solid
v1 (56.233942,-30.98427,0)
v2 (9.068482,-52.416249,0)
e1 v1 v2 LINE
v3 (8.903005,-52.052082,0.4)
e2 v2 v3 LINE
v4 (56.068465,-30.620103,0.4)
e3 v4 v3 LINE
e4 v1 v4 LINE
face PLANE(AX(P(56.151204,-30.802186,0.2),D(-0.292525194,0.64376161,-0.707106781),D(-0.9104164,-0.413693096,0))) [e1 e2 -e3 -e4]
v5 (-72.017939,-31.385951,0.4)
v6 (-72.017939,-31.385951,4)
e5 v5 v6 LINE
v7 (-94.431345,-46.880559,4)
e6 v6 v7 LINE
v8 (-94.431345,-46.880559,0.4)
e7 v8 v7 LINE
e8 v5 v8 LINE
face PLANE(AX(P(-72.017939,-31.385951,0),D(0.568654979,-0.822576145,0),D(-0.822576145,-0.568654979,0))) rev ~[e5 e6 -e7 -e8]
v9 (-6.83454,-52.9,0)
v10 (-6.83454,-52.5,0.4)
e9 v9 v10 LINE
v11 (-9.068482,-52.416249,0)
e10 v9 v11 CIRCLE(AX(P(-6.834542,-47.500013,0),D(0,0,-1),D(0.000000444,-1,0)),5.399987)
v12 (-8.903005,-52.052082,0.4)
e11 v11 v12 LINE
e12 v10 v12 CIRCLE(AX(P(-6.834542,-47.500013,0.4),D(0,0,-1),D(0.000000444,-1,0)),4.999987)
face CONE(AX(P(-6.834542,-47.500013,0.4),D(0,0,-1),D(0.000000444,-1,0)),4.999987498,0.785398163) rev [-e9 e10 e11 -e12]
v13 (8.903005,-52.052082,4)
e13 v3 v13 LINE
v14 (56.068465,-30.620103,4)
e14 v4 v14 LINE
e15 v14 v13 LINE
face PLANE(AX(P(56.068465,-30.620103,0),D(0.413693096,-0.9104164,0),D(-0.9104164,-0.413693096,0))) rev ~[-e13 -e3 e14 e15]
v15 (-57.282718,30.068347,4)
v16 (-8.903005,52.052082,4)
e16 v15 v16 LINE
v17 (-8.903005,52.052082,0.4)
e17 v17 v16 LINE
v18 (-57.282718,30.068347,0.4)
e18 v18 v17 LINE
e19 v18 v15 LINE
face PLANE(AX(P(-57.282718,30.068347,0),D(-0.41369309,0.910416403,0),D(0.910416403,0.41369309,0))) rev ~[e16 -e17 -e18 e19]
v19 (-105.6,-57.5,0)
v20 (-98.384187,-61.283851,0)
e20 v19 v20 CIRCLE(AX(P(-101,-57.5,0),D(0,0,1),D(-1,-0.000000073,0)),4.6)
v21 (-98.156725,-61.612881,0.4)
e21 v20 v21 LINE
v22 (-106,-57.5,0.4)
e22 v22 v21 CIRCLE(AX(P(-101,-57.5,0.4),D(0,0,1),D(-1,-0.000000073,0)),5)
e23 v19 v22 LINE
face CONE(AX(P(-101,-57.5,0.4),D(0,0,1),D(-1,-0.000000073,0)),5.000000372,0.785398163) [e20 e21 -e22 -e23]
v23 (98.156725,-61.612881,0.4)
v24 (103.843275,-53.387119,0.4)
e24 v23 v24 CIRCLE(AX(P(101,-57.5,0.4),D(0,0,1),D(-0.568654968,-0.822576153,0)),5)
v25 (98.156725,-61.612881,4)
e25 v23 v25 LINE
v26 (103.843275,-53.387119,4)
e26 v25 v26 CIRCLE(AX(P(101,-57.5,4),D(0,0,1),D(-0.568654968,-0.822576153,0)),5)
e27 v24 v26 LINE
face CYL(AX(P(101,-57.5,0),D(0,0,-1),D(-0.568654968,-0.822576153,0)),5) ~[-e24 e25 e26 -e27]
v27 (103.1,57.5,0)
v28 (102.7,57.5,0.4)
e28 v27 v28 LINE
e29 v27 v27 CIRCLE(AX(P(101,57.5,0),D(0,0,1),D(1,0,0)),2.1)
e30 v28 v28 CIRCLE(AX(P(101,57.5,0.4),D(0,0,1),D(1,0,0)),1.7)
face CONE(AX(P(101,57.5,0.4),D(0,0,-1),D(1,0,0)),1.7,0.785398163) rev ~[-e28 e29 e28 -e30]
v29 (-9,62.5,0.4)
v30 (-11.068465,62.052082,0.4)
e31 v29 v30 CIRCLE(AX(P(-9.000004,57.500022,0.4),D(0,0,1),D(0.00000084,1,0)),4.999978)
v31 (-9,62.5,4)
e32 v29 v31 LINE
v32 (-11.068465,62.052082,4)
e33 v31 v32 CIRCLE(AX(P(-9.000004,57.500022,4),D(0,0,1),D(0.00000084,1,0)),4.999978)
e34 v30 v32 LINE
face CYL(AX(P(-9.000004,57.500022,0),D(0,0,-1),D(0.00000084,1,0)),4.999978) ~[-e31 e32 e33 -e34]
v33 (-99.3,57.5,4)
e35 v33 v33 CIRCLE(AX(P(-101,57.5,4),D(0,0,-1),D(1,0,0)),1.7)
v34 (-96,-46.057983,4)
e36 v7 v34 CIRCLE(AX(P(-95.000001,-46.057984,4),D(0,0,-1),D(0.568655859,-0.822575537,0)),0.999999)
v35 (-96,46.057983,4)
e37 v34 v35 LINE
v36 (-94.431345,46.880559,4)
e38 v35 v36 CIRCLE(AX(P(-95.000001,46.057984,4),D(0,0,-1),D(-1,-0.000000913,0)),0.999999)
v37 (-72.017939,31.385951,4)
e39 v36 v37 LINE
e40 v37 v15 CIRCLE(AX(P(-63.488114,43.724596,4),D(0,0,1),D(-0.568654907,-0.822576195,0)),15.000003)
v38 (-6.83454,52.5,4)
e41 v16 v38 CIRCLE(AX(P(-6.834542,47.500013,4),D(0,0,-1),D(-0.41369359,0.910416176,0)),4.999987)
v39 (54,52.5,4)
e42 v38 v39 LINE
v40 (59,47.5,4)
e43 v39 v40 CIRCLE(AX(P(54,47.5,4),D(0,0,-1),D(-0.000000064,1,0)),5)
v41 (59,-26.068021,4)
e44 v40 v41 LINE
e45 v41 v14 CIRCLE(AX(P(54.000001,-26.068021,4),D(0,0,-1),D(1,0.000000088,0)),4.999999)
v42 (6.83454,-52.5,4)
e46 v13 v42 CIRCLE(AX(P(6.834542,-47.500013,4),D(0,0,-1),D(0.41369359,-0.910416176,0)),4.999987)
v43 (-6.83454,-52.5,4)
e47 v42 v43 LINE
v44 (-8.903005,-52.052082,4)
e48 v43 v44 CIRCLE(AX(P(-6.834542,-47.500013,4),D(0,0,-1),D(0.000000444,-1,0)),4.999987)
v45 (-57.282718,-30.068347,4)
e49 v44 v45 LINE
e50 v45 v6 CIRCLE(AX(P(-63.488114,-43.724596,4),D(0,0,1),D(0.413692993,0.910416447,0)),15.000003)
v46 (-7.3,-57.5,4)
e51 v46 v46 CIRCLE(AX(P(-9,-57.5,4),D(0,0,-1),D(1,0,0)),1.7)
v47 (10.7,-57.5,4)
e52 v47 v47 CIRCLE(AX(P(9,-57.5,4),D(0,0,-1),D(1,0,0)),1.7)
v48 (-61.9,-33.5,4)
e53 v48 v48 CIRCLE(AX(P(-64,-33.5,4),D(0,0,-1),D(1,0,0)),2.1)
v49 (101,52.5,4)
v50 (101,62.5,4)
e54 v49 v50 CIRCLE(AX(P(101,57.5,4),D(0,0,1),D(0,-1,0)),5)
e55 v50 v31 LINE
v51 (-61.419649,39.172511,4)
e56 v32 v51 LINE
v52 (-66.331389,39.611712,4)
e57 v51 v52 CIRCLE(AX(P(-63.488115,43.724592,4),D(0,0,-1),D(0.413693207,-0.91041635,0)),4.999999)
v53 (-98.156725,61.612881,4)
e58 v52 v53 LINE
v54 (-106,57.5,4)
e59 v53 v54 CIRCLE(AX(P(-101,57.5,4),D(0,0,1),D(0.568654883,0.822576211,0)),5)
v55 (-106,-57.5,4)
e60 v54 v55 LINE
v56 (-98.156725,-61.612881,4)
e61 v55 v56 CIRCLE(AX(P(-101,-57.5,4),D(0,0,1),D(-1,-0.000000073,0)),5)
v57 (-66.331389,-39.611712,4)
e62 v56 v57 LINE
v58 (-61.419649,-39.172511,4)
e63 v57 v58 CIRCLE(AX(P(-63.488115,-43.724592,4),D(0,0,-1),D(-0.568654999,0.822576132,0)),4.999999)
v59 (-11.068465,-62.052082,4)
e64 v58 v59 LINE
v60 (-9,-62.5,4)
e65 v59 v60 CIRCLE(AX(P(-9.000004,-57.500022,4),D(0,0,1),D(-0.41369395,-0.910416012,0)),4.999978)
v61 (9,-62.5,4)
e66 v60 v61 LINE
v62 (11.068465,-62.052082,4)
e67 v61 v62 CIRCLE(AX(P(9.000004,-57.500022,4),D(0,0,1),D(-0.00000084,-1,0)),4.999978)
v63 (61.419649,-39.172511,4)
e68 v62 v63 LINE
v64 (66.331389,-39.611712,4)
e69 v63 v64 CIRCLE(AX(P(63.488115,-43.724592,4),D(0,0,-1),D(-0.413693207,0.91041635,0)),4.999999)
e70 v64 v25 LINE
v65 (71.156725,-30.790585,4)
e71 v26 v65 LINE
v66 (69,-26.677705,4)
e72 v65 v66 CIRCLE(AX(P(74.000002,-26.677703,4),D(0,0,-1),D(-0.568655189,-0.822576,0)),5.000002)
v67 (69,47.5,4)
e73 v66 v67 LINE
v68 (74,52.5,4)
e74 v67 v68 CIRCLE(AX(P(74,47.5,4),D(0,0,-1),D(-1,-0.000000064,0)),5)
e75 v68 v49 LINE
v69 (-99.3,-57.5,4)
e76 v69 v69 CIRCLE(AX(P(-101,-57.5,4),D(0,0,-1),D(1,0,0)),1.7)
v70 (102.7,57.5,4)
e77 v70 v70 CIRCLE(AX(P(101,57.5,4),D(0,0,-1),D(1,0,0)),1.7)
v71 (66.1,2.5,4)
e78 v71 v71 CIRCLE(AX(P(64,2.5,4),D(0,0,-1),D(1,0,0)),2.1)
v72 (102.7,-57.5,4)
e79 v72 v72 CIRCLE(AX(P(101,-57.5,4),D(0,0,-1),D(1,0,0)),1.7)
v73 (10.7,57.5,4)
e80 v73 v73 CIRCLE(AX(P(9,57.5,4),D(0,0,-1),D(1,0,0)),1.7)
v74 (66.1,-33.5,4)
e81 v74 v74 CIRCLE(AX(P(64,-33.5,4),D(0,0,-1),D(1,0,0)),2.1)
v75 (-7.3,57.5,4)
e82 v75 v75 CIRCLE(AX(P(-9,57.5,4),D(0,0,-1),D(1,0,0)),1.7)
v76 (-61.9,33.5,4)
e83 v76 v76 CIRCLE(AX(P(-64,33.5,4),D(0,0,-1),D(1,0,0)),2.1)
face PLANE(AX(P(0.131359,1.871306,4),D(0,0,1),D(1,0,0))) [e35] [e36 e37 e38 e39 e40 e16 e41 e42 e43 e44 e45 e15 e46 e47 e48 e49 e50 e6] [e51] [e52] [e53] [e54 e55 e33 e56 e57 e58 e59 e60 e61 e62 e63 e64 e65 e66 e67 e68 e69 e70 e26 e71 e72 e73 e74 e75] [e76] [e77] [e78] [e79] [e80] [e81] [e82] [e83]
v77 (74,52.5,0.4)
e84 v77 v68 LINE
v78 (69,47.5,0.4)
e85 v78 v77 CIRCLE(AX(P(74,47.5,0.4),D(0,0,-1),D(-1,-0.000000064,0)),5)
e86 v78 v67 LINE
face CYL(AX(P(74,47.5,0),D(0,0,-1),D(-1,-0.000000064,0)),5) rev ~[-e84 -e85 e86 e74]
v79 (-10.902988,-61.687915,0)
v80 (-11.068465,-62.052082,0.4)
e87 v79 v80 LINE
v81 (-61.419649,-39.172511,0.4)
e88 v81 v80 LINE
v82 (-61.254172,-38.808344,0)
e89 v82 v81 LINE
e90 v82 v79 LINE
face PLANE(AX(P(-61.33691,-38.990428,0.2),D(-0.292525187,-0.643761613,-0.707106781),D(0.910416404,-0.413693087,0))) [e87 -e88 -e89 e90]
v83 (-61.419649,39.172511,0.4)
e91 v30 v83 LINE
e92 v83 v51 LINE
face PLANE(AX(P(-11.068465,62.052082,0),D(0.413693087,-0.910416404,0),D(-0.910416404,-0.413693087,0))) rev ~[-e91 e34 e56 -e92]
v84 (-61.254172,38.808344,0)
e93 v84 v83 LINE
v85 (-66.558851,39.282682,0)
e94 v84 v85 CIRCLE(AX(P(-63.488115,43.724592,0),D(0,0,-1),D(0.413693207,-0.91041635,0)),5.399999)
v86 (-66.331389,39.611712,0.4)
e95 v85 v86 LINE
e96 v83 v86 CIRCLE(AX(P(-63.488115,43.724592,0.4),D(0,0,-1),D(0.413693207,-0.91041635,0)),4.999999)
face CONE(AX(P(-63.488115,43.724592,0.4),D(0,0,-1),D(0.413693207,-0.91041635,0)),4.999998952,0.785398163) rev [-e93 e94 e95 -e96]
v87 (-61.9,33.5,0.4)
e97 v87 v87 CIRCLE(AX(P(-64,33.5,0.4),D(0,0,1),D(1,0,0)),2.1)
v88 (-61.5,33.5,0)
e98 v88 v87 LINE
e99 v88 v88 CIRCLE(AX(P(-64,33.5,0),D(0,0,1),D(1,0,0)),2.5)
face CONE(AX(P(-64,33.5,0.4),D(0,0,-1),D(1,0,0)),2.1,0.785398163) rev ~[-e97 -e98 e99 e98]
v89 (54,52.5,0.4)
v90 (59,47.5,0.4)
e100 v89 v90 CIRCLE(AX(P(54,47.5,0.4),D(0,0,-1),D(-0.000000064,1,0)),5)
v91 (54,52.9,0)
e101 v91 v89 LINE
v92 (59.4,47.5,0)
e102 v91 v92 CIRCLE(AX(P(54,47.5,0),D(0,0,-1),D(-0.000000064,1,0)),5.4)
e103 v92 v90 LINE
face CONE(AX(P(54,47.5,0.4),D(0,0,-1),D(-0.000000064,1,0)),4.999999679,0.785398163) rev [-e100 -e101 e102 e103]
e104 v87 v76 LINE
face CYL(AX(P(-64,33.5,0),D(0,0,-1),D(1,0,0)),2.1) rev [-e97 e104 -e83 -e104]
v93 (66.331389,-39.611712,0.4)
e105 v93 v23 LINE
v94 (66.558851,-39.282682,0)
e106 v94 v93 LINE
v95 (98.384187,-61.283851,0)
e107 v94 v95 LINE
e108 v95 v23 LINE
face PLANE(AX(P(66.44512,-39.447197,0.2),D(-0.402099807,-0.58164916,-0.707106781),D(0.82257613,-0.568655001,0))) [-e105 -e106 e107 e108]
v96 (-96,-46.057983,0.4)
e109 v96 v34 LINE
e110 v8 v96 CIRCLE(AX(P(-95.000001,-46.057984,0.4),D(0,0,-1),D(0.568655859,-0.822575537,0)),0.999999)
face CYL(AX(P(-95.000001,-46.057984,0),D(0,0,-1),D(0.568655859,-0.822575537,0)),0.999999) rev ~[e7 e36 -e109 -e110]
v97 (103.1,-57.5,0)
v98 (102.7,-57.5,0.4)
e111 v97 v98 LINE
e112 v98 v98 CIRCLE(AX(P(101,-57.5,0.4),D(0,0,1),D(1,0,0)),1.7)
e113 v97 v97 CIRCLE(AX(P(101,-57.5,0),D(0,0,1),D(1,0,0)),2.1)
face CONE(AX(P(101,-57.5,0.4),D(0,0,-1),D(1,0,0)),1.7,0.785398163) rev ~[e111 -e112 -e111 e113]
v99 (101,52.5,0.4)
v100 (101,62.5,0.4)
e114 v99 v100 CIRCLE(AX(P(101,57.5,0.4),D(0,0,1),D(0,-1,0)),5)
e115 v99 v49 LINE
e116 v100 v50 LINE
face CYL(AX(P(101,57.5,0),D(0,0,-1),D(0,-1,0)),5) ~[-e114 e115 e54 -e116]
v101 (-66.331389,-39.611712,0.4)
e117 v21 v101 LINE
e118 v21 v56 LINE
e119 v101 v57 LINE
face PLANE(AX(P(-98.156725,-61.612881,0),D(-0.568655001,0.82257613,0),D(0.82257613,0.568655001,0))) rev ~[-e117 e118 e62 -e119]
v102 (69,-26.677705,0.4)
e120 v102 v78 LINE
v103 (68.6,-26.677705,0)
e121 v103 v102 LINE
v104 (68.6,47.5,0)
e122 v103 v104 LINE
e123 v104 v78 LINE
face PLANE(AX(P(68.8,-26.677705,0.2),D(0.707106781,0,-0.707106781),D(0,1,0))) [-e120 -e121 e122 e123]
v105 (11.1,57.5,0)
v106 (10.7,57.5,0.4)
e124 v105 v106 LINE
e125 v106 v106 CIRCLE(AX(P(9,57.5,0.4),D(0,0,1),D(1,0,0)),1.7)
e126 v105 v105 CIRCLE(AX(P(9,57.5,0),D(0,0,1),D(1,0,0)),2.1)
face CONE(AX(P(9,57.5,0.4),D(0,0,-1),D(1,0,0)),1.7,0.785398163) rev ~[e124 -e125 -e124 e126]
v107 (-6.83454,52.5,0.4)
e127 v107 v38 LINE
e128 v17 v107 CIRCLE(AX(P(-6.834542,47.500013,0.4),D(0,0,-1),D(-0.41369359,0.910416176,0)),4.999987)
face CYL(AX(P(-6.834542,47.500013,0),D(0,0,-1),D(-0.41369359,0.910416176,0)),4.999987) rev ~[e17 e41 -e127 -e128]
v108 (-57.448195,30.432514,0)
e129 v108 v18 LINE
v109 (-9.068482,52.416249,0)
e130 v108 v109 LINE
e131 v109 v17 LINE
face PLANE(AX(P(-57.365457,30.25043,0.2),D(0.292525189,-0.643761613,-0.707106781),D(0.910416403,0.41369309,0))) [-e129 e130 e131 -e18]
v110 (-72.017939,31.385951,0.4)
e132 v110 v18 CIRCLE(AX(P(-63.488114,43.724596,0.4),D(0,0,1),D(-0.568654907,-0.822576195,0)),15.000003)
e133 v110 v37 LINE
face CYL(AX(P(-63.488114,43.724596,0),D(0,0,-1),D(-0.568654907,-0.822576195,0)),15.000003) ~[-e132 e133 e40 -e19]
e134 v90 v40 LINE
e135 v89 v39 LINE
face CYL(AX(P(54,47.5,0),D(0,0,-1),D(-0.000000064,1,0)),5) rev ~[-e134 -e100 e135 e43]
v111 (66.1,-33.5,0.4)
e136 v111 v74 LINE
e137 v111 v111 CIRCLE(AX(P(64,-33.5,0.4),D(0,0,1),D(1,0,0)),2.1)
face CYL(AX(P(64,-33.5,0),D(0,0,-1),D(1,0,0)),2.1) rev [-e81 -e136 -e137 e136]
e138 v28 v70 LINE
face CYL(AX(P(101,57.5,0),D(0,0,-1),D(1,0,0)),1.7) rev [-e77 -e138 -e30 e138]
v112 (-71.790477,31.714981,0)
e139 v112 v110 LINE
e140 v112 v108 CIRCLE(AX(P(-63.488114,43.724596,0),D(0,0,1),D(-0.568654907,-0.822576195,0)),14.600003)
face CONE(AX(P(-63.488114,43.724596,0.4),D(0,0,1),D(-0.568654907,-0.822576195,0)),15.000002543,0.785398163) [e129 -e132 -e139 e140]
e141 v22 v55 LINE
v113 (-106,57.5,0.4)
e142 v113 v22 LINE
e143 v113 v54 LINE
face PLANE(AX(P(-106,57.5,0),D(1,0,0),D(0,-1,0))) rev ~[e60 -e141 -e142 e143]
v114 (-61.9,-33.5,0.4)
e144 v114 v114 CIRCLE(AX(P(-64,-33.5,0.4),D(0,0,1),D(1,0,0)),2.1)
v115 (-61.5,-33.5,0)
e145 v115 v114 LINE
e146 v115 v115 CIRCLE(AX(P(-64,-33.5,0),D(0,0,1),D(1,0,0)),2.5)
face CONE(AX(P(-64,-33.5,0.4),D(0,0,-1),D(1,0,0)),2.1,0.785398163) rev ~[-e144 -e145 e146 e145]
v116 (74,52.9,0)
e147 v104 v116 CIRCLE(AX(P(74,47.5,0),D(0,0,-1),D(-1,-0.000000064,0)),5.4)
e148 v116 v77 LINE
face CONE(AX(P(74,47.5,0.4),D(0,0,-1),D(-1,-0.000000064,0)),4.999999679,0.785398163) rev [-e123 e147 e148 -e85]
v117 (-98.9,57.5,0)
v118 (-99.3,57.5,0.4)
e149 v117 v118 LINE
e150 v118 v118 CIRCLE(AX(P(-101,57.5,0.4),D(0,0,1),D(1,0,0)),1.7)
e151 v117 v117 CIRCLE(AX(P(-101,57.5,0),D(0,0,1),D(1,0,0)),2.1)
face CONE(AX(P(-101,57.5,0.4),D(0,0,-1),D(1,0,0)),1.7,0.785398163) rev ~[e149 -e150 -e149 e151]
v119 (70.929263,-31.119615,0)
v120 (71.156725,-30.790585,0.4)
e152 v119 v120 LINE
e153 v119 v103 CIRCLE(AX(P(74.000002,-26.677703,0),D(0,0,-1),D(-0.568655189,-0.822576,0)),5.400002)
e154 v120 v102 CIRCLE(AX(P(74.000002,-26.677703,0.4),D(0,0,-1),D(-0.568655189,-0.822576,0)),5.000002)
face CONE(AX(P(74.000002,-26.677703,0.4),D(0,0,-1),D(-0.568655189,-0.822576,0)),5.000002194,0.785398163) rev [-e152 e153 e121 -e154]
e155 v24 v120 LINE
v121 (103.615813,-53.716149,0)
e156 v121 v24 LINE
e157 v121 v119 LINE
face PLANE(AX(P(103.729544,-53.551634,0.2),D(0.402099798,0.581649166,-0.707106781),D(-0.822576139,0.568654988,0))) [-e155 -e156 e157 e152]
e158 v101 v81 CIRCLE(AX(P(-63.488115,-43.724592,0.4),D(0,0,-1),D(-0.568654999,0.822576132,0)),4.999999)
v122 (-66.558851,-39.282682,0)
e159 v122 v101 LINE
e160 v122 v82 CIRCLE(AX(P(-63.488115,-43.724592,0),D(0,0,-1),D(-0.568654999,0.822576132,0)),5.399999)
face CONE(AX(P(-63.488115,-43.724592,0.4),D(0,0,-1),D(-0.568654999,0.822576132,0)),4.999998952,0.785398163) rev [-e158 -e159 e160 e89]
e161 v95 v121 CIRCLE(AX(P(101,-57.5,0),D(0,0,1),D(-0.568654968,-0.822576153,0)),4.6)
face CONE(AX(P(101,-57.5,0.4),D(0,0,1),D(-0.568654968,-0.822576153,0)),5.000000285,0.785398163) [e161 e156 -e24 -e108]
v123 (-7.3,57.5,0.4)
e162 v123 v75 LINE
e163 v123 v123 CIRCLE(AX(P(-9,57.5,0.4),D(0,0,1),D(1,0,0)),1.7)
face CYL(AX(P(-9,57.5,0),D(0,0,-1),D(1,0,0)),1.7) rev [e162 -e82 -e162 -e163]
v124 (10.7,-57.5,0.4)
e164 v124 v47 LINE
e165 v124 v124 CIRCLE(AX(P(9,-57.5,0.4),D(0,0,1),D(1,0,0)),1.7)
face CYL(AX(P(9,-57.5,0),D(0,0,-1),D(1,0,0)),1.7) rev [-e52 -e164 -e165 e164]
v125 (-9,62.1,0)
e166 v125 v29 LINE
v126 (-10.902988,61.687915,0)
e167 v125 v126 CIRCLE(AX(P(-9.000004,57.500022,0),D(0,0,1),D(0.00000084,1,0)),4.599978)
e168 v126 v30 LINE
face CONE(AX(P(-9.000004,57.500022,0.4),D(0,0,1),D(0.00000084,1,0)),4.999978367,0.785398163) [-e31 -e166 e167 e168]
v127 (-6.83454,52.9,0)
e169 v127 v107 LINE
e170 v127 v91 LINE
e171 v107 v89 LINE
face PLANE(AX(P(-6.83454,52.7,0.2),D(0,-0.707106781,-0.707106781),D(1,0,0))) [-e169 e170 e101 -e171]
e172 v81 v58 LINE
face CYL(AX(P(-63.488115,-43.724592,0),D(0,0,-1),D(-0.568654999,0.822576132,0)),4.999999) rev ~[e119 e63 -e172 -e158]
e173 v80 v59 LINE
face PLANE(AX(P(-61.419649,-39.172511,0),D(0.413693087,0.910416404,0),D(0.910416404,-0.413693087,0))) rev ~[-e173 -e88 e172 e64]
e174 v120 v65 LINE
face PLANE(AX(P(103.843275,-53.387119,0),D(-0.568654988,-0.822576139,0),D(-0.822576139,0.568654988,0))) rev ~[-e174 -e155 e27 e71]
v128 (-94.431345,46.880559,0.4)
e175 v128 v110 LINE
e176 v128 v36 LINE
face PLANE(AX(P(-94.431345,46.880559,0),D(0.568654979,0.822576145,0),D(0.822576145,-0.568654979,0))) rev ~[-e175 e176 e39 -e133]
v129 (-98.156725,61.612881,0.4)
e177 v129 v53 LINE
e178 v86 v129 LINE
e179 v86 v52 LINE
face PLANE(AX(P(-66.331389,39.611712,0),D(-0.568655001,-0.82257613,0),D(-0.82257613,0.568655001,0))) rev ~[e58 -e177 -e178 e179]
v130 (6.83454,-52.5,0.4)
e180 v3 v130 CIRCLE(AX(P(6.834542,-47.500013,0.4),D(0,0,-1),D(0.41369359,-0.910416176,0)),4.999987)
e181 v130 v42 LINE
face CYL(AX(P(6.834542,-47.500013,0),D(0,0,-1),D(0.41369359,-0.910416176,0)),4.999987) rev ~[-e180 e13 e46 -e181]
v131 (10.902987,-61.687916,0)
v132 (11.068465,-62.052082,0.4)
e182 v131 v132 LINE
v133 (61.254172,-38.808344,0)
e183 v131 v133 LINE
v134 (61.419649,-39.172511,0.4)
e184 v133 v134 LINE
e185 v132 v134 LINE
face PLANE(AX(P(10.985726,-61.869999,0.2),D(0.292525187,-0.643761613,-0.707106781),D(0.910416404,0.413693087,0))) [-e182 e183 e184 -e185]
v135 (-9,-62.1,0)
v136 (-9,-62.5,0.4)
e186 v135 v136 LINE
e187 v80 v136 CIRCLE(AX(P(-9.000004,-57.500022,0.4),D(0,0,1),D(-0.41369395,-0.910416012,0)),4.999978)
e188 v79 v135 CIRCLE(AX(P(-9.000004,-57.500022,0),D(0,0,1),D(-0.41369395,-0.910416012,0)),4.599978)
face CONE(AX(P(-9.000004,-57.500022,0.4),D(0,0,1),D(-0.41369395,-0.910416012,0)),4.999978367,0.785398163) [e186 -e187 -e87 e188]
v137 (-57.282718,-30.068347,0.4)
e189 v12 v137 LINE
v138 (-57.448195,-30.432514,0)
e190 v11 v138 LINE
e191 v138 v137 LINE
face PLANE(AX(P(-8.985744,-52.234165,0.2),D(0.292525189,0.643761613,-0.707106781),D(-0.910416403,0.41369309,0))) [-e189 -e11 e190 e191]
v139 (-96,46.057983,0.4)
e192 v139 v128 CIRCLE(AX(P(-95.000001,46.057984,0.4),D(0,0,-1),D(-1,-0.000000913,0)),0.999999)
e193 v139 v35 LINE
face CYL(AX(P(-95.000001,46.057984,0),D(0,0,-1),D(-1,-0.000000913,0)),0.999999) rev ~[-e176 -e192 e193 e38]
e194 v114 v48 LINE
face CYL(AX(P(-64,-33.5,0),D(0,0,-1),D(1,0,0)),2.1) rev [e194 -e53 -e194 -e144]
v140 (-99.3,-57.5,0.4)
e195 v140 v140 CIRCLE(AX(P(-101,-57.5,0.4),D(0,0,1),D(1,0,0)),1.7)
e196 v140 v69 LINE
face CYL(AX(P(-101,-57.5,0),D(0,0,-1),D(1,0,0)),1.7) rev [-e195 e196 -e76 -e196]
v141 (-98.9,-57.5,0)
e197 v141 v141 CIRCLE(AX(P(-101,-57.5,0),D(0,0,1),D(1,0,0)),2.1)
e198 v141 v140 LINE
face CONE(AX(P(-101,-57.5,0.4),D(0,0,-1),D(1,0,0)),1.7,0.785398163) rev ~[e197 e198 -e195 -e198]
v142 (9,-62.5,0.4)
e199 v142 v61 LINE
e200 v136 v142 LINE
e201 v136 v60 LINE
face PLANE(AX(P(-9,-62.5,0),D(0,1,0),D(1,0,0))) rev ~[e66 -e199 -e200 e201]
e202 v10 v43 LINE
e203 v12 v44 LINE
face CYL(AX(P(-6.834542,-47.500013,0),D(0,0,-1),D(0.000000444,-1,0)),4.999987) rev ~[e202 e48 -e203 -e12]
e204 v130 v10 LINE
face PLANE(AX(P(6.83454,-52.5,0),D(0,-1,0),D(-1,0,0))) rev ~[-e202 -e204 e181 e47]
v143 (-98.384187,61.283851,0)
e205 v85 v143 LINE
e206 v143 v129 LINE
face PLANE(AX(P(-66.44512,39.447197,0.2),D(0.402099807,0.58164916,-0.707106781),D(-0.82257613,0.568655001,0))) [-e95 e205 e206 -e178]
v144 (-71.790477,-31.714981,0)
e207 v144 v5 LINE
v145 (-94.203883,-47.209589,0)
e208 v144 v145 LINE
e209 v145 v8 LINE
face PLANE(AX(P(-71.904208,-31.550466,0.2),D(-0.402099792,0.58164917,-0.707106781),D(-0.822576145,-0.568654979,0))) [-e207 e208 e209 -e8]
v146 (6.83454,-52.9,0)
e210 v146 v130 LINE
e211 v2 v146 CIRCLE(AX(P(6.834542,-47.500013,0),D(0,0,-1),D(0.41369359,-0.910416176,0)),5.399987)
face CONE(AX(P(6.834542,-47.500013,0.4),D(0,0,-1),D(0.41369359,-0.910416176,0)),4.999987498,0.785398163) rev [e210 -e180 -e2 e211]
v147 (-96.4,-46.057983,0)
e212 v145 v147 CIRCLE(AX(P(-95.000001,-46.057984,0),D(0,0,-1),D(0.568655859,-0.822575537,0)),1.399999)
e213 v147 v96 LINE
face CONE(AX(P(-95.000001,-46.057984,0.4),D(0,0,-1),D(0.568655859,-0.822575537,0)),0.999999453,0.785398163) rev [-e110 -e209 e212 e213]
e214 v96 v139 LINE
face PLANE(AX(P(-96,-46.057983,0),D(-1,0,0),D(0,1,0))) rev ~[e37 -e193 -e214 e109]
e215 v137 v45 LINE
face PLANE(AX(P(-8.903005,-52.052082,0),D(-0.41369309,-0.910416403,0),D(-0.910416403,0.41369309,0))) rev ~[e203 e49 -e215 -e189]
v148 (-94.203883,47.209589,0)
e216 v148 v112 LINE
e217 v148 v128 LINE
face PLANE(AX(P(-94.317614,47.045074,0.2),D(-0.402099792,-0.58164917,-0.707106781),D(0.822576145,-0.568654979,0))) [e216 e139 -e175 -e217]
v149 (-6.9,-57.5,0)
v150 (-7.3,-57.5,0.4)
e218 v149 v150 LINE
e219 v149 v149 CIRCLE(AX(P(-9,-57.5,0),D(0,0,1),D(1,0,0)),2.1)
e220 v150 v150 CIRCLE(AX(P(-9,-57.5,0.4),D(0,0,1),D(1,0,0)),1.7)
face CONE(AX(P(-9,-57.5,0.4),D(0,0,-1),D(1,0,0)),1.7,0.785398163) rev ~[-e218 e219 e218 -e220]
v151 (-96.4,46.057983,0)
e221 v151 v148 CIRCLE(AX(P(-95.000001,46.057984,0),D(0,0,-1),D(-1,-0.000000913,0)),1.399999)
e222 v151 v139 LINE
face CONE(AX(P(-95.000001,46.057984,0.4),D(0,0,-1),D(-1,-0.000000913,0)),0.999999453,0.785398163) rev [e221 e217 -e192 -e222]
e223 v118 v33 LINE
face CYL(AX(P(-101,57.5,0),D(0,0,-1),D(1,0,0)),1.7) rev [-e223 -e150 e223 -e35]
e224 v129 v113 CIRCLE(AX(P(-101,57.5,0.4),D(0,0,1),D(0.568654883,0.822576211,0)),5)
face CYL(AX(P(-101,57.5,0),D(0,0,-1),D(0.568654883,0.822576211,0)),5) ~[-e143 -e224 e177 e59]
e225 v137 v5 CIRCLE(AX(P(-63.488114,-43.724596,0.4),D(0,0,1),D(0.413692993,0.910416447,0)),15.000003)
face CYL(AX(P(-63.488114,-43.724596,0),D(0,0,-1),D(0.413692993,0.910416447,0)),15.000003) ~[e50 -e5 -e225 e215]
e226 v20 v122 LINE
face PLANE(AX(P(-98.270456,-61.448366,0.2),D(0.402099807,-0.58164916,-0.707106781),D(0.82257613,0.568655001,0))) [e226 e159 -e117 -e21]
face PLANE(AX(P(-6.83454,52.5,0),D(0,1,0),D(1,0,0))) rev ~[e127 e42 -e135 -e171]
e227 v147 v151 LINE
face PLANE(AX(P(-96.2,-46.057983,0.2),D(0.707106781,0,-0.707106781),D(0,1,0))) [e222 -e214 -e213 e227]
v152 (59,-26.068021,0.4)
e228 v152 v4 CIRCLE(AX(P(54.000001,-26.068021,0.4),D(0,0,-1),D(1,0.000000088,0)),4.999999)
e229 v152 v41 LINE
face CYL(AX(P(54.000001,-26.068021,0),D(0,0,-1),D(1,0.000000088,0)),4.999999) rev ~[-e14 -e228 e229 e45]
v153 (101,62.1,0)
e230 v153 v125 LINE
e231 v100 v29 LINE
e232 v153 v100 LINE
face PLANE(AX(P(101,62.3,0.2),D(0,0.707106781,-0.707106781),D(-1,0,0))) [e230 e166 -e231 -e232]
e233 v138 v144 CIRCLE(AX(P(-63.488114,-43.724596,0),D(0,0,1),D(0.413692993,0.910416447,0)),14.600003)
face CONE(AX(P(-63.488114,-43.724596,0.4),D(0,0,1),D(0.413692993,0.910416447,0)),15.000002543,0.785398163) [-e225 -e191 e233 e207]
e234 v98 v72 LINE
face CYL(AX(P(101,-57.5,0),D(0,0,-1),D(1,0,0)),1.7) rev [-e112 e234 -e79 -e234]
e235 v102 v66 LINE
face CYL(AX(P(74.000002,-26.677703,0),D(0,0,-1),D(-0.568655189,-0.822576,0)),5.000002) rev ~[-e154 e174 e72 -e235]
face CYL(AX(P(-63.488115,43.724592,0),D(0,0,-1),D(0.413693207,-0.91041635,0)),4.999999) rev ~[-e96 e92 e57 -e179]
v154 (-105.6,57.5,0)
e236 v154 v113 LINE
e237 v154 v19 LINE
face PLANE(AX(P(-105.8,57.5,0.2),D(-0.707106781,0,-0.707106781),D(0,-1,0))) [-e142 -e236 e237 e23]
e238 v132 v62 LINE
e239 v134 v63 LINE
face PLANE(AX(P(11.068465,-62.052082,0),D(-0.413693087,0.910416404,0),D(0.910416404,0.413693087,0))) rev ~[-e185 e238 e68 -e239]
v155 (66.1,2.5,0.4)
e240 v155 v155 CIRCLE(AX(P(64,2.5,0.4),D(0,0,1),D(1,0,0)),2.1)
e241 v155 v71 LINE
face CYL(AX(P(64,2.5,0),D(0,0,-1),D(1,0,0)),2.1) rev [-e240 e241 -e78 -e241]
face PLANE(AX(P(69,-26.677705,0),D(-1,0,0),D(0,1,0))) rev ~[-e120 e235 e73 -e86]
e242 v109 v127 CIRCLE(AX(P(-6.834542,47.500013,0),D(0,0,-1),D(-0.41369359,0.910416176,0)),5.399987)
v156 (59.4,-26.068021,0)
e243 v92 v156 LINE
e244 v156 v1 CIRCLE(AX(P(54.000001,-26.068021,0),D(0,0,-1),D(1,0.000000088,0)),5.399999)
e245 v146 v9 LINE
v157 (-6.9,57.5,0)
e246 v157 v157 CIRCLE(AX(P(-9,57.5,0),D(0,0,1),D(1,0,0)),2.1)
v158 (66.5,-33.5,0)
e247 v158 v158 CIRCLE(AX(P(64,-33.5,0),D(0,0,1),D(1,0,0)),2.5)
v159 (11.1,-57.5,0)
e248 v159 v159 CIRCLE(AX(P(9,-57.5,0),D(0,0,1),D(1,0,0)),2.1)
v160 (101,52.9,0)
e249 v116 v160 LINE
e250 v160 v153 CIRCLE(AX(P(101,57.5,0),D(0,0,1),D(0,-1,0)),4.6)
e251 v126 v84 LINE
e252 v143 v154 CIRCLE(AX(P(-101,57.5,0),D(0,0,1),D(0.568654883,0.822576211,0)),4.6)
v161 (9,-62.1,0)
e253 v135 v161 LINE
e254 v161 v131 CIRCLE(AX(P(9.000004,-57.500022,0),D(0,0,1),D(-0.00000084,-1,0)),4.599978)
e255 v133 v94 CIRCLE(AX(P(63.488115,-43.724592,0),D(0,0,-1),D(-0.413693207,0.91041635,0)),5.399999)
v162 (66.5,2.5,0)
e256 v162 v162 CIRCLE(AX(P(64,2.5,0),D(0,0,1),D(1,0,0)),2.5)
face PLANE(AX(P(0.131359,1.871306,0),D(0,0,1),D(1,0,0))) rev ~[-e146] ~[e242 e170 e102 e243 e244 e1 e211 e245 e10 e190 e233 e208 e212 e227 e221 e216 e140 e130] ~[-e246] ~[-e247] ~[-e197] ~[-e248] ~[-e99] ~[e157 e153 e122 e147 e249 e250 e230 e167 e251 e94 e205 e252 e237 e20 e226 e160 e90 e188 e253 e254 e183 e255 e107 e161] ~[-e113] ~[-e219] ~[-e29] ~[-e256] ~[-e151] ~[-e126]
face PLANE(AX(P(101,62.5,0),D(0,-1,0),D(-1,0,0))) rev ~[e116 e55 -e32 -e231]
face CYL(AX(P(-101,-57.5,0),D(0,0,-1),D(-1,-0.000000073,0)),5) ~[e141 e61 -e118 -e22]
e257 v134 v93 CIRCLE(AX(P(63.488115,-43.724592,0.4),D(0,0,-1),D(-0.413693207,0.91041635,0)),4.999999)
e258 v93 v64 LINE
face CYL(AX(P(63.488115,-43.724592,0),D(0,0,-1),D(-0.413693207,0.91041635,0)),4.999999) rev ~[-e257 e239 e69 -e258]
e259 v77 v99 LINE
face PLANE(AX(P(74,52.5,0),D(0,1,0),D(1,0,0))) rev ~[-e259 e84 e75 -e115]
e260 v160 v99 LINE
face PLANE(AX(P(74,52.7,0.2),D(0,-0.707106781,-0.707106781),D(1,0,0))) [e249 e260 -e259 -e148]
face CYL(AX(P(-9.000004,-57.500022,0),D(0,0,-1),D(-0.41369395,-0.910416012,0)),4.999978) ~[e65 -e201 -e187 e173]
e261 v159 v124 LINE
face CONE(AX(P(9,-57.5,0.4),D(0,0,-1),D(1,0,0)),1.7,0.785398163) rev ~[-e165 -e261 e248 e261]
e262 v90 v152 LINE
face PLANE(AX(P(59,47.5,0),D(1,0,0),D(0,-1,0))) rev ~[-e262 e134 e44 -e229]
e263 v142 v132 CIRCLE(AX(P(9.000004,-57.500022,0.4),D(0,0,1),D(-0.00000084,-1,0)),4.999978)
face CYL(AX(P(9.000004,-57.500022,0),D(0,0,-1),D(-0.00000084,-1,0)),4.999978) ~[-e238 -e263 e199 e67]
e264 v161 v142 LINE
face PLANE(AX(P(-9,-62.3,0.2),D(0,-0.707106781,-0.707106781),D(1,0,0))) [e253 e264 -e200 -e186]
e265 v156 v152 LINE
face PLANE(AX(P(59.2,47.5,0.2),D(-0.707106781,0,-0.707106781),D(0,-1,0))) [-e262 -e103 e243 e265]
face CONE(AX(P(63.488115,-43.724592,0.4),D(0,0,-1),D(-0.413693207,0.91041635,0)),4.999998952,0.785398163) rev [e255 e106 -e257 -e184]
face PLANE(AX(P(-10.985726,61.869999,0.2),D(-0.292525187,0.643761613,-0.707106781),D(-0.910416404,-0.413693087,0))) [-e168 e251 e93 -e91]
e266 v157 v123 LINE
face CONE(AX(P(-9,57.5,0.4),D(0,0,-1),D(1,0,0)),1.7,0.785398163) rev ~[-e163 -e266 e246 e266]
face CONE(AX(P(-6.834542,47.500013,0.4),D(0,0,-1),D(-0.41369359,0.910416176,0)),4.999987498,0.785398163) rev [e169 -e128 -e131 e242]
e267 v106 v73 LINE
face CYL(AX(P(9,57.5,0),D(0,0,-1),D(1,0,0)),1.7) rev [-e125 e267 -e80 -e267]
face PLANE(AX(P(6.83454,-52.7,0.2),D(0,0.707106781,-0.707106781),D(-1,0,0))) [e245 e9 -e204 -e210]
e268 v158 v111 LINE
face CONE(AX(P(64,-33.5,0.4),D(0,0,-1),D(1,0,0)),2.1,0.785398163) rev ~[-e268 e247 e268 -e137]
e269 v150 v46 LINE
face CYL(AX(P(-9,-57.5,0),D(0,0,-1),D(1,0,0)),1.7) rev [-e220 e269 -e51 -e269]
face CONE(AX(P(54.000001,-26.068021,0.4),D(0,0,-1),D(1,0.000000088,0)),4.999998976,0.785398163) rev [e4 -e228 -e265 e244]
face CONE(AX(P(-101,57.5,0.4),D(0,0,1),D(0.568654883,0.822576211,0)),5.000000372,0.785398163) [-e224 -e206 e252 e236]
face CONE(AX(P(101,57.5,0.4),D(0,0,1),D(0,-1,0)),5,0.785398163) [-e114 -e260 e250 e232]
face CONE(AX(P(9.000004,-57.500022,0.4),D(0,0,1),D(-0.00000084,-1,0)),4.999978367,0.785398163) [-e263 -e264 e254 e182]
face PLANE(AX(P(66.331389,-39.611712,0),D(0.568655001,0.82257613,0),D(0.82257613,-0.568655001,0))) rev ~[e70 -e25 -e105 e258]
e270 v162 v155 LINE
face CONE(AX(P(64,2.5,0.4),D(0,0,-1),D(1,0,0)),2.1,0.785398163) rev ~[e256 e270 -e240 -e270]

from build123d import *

# Parameters (mm, degrees)
F3_DEPTH = 4
F0_R     = 2.1
F1_R     = 1.7
F4_DEPTH = 4.001
F5_SIZE  = 0.4


with BuildPart() as f3:
    # F2 (on Top) → F3 (new body)
    with BuildSketch(Plane.XY):
        with BuildLine():
            ThreePointArc((-106, -57.5), (-103.322028, -61.928113), (-98.156725, -61.612881))
            Line((-98.156725, -61.612881), (-66.331389, -39.611712))
            ThreePointArc((-66.331389, -39.611712), (-63.933431, -38.744463), (-61.419649, -39.172511))
            Line((-61.419649, -39.172511), (-11.068465, -62.052082))
            ThreePointArc((-11.068465, -62.052082), (-10.058204, -62.386738), (-9, -62.5))
            Line((-9, -62.5), (9, -62.5))
            ThreePointArc((9, -62.5), (10.058204, -62.386738), (11.068465, -62.052082))
            Line((11.068465, -62.052082), (61.419649, -39.172511))
            ThreePointArc((61.419649, -39.172511), (63.933431, -38.744463), (66.331389, -39.611712))
            Line((66.331389, -39.611712), (98.156725, -61.612881))
            ThreePointArc((98.156725, -61.612881), (105.112881, -60.343275), (103.843275, -53.387119))
            Line((103.843275, -53.387119), (71.156725, -30.790585))
            ThreePointArc((71.156725, -30.790585), (69.571887, -28.999732), (69, -26.677705))
            Line((69, -26.677705), (69, 47.5))
            ThreePointArc((69, 47.5), (70.464466, 51.035534), (74, 52.5))
            Line((74, 52.5), (101, 52.5))
            ThreePointArc((101, 52.5), (106, 57.5), (101, 62.5))
            Line((101, 62.5), (-9, 62.5))
            ThreePointArc((-9, 62.5), (-10.058204, 62.386738), (-11.068465, 62.052082))
            Line((-11.068465, 62.052082), (-61.419649, 39.172511))
            ThreePointArc((-61.419649, 39.172511), (-63.933431, 38.744463), (-66.331389, 39.611712))
            Line((-66.331389, 39.611712), (-98.156725, 61.612881))
            ThreePointArc((-98.156725, 61.612881), (-103.322028, 61.928113), (-106, 57.5))
            Line((-106, 57.5), (-106, -57.5))
        make_face()
        with BuildLine():
            Line((-8.903005, -52.052082), (-57.282718, -30.068347))
            ThreePointArc((-57.282718, -30.068347), (-64.824064, -28.784204), (-72.017939, -31.385951))
            Line((-72.017939, -31.385951), (-94.431345, -46.880559))
            ThreePointArc((-94.431345, -46.880559), (-95.464406, -46.943606), (-96, -46.057983))
            Line((-96, -46.057983), (-96, 46.057983))
            ThreePointArc((-96, 46.057983), (-95.464406, 46.943606), (-94.431345, 46.880559))
            Line((-94.431345, 46.880559), (-72.017939, 31.385951))
            ThreePointArc((-72.017939, 31.385951), (-64.824064, 28.784204), (-57.282718, 30.068347))
            Line((-57.282718, 30.068347), (-8.903005, 52.052082))
            ThreePointArc((-8.903005, 52.052082), (-7.892743, 52.386738), (-6.83454, 52.5))
            Line((-6.83454, 52.5), (54, 52.5))
            ThreePointArc((54, 52.5), (57.535534, 51.035534), (59, 47.5))
            Line((59, 47.5), (59, -26.068021))
            ThreePointArc((59, -26.068021), (58.203708, -28.775204), (56.068465, -30.620103))
            Line((56.068465, -30.620103), (8.903005, -52.052082))
            ThreePointArc((8.903005, -52.052082), (7.892743, -52.386738), (6.83454, -52.5))
            Line((6.83454, -52.5), (-6.83454, -52.5))
            ThreePointArc((-6.83454, -52.5), (-7.892743, -52.386738), (-8.903005, -52.052082))
        make_face(mode=Mode.SUBTRACT)
    extrude(amount=F3_DEPTH)

    # F0 (on Top) + F1 (on Top) → F4 (cut, through all)
    with BuildSketch(Plane.XY):
        with Locations((-64, 33.5)):
            Circle(F0_R)
        with Locations((-64, -33.5)):
            Circle(F0_R)
        with Locations((64, -33.5)):
            Circle(F0_R)
        with Locations((64, 2.5)):
            Circle(F0_R)
    with BuildSketch(Plane.XY):
        with Locations((-101, -57.5)):
            Circle(F1_R)
        with Locations((-101, 57.5)):
            Circle(F1_R)
        with Locations((-9, 57.5)):
            Circle(F1_R)
        with Locations((9, 57.5)):
            Circle(F1_R)
        with Locations((-9, -57.5)):
            Circle(F1_R)
        with Locations((9, -57.5)):
            Circle(F1_R)
        with Locations((101, -57.5)):
            Circle(F1_R)
        with Locations((101, 57.5)):
            Circle(F1_R)
    extrude(amount=F4_DEPTH, mode=Mode.SUBTRACT)

    # F5
    f5_edges = [f3.edges().sort_by_distance(p)[0] for p in [
        (-36.244057, 50.612297, 0),
        (-10.058204, 62.386738, 0),
        (-63.933431, 38.744463, 0),
        (46, 62.5, 0),
        (-82.244057, 50.612297, 0),
        (106, 57.5, 0),
        (-103.322028, 61.928113, 0),
        (87.5, 52.5, 0),
        (-106, 0, 0),
        (70.464466, 51.035534, 0),
        (-103.322028, -61.928113, 0),
        (69, 10.411148, 0),
        (-82.244057, -50.612297, 0),
        (69.571887, -28.999732, 0),
        (-63.933431, -38.744463, 0),
        (87.5, -42.088852, 0),
        (-36.244057, -50.612297, 0),
        (105.112881, -60.343275, 0),
        (-10.058204, -62.386738, 0),
        (82.244057, -50.612297, 0),
        (0, -62.5, 0),
        (63.933431, -38.744463, 0),
        (10.058204, -62.386738, 0),
        (36.244057, -50.612297, 0),
        (-102.7, -57.5, 0),
        (-66.1, -33.5, 0),
        (-10.7, -57.5, 0),
        (-33.092862, -41.060215, 0),
        (-7.892743, -52.386738, 0),
        (-64.824064, -28.784204, 0),
        (0, -52.5, 0),
        (-83.224642, -39.133255, 0),
        (7.892743, -52.386738, 0),
        (-95.464406, -46.943606, 0),
        (32.485735, -41.336093, 0),
        (-96, 0, 0),
        (58.203708, -28.775204, 0),
        (-95.464406, 46.943606, 0),
        (59, 10.715989, 0),
        (-83.224642, 39.133255, 0),
        (57.535534, 51.035534, 0),
        (-64.824064, 28.784204, 0),
        (23.58273, 52.5, 0),
        (-33.092862, 41.060215, 0),
        (-7.892743, 52.386738, 0),
        (7.3, -57.5, 0),
        (99.3, -57.5, 0),
        (61.9, -33.5, 0),
        (-66.1, 33.5, 0),
        (-102.7, 57.5, 0),
        (-10.7, 57.5, 0),
        (61.9, 2.5, 0),
        (7.3, 57.5, 0),
        (99.3, 57.5, 0),
    ]]
    chamfer(f5_edges, length=F5_SIZE)


solid = f3.part
